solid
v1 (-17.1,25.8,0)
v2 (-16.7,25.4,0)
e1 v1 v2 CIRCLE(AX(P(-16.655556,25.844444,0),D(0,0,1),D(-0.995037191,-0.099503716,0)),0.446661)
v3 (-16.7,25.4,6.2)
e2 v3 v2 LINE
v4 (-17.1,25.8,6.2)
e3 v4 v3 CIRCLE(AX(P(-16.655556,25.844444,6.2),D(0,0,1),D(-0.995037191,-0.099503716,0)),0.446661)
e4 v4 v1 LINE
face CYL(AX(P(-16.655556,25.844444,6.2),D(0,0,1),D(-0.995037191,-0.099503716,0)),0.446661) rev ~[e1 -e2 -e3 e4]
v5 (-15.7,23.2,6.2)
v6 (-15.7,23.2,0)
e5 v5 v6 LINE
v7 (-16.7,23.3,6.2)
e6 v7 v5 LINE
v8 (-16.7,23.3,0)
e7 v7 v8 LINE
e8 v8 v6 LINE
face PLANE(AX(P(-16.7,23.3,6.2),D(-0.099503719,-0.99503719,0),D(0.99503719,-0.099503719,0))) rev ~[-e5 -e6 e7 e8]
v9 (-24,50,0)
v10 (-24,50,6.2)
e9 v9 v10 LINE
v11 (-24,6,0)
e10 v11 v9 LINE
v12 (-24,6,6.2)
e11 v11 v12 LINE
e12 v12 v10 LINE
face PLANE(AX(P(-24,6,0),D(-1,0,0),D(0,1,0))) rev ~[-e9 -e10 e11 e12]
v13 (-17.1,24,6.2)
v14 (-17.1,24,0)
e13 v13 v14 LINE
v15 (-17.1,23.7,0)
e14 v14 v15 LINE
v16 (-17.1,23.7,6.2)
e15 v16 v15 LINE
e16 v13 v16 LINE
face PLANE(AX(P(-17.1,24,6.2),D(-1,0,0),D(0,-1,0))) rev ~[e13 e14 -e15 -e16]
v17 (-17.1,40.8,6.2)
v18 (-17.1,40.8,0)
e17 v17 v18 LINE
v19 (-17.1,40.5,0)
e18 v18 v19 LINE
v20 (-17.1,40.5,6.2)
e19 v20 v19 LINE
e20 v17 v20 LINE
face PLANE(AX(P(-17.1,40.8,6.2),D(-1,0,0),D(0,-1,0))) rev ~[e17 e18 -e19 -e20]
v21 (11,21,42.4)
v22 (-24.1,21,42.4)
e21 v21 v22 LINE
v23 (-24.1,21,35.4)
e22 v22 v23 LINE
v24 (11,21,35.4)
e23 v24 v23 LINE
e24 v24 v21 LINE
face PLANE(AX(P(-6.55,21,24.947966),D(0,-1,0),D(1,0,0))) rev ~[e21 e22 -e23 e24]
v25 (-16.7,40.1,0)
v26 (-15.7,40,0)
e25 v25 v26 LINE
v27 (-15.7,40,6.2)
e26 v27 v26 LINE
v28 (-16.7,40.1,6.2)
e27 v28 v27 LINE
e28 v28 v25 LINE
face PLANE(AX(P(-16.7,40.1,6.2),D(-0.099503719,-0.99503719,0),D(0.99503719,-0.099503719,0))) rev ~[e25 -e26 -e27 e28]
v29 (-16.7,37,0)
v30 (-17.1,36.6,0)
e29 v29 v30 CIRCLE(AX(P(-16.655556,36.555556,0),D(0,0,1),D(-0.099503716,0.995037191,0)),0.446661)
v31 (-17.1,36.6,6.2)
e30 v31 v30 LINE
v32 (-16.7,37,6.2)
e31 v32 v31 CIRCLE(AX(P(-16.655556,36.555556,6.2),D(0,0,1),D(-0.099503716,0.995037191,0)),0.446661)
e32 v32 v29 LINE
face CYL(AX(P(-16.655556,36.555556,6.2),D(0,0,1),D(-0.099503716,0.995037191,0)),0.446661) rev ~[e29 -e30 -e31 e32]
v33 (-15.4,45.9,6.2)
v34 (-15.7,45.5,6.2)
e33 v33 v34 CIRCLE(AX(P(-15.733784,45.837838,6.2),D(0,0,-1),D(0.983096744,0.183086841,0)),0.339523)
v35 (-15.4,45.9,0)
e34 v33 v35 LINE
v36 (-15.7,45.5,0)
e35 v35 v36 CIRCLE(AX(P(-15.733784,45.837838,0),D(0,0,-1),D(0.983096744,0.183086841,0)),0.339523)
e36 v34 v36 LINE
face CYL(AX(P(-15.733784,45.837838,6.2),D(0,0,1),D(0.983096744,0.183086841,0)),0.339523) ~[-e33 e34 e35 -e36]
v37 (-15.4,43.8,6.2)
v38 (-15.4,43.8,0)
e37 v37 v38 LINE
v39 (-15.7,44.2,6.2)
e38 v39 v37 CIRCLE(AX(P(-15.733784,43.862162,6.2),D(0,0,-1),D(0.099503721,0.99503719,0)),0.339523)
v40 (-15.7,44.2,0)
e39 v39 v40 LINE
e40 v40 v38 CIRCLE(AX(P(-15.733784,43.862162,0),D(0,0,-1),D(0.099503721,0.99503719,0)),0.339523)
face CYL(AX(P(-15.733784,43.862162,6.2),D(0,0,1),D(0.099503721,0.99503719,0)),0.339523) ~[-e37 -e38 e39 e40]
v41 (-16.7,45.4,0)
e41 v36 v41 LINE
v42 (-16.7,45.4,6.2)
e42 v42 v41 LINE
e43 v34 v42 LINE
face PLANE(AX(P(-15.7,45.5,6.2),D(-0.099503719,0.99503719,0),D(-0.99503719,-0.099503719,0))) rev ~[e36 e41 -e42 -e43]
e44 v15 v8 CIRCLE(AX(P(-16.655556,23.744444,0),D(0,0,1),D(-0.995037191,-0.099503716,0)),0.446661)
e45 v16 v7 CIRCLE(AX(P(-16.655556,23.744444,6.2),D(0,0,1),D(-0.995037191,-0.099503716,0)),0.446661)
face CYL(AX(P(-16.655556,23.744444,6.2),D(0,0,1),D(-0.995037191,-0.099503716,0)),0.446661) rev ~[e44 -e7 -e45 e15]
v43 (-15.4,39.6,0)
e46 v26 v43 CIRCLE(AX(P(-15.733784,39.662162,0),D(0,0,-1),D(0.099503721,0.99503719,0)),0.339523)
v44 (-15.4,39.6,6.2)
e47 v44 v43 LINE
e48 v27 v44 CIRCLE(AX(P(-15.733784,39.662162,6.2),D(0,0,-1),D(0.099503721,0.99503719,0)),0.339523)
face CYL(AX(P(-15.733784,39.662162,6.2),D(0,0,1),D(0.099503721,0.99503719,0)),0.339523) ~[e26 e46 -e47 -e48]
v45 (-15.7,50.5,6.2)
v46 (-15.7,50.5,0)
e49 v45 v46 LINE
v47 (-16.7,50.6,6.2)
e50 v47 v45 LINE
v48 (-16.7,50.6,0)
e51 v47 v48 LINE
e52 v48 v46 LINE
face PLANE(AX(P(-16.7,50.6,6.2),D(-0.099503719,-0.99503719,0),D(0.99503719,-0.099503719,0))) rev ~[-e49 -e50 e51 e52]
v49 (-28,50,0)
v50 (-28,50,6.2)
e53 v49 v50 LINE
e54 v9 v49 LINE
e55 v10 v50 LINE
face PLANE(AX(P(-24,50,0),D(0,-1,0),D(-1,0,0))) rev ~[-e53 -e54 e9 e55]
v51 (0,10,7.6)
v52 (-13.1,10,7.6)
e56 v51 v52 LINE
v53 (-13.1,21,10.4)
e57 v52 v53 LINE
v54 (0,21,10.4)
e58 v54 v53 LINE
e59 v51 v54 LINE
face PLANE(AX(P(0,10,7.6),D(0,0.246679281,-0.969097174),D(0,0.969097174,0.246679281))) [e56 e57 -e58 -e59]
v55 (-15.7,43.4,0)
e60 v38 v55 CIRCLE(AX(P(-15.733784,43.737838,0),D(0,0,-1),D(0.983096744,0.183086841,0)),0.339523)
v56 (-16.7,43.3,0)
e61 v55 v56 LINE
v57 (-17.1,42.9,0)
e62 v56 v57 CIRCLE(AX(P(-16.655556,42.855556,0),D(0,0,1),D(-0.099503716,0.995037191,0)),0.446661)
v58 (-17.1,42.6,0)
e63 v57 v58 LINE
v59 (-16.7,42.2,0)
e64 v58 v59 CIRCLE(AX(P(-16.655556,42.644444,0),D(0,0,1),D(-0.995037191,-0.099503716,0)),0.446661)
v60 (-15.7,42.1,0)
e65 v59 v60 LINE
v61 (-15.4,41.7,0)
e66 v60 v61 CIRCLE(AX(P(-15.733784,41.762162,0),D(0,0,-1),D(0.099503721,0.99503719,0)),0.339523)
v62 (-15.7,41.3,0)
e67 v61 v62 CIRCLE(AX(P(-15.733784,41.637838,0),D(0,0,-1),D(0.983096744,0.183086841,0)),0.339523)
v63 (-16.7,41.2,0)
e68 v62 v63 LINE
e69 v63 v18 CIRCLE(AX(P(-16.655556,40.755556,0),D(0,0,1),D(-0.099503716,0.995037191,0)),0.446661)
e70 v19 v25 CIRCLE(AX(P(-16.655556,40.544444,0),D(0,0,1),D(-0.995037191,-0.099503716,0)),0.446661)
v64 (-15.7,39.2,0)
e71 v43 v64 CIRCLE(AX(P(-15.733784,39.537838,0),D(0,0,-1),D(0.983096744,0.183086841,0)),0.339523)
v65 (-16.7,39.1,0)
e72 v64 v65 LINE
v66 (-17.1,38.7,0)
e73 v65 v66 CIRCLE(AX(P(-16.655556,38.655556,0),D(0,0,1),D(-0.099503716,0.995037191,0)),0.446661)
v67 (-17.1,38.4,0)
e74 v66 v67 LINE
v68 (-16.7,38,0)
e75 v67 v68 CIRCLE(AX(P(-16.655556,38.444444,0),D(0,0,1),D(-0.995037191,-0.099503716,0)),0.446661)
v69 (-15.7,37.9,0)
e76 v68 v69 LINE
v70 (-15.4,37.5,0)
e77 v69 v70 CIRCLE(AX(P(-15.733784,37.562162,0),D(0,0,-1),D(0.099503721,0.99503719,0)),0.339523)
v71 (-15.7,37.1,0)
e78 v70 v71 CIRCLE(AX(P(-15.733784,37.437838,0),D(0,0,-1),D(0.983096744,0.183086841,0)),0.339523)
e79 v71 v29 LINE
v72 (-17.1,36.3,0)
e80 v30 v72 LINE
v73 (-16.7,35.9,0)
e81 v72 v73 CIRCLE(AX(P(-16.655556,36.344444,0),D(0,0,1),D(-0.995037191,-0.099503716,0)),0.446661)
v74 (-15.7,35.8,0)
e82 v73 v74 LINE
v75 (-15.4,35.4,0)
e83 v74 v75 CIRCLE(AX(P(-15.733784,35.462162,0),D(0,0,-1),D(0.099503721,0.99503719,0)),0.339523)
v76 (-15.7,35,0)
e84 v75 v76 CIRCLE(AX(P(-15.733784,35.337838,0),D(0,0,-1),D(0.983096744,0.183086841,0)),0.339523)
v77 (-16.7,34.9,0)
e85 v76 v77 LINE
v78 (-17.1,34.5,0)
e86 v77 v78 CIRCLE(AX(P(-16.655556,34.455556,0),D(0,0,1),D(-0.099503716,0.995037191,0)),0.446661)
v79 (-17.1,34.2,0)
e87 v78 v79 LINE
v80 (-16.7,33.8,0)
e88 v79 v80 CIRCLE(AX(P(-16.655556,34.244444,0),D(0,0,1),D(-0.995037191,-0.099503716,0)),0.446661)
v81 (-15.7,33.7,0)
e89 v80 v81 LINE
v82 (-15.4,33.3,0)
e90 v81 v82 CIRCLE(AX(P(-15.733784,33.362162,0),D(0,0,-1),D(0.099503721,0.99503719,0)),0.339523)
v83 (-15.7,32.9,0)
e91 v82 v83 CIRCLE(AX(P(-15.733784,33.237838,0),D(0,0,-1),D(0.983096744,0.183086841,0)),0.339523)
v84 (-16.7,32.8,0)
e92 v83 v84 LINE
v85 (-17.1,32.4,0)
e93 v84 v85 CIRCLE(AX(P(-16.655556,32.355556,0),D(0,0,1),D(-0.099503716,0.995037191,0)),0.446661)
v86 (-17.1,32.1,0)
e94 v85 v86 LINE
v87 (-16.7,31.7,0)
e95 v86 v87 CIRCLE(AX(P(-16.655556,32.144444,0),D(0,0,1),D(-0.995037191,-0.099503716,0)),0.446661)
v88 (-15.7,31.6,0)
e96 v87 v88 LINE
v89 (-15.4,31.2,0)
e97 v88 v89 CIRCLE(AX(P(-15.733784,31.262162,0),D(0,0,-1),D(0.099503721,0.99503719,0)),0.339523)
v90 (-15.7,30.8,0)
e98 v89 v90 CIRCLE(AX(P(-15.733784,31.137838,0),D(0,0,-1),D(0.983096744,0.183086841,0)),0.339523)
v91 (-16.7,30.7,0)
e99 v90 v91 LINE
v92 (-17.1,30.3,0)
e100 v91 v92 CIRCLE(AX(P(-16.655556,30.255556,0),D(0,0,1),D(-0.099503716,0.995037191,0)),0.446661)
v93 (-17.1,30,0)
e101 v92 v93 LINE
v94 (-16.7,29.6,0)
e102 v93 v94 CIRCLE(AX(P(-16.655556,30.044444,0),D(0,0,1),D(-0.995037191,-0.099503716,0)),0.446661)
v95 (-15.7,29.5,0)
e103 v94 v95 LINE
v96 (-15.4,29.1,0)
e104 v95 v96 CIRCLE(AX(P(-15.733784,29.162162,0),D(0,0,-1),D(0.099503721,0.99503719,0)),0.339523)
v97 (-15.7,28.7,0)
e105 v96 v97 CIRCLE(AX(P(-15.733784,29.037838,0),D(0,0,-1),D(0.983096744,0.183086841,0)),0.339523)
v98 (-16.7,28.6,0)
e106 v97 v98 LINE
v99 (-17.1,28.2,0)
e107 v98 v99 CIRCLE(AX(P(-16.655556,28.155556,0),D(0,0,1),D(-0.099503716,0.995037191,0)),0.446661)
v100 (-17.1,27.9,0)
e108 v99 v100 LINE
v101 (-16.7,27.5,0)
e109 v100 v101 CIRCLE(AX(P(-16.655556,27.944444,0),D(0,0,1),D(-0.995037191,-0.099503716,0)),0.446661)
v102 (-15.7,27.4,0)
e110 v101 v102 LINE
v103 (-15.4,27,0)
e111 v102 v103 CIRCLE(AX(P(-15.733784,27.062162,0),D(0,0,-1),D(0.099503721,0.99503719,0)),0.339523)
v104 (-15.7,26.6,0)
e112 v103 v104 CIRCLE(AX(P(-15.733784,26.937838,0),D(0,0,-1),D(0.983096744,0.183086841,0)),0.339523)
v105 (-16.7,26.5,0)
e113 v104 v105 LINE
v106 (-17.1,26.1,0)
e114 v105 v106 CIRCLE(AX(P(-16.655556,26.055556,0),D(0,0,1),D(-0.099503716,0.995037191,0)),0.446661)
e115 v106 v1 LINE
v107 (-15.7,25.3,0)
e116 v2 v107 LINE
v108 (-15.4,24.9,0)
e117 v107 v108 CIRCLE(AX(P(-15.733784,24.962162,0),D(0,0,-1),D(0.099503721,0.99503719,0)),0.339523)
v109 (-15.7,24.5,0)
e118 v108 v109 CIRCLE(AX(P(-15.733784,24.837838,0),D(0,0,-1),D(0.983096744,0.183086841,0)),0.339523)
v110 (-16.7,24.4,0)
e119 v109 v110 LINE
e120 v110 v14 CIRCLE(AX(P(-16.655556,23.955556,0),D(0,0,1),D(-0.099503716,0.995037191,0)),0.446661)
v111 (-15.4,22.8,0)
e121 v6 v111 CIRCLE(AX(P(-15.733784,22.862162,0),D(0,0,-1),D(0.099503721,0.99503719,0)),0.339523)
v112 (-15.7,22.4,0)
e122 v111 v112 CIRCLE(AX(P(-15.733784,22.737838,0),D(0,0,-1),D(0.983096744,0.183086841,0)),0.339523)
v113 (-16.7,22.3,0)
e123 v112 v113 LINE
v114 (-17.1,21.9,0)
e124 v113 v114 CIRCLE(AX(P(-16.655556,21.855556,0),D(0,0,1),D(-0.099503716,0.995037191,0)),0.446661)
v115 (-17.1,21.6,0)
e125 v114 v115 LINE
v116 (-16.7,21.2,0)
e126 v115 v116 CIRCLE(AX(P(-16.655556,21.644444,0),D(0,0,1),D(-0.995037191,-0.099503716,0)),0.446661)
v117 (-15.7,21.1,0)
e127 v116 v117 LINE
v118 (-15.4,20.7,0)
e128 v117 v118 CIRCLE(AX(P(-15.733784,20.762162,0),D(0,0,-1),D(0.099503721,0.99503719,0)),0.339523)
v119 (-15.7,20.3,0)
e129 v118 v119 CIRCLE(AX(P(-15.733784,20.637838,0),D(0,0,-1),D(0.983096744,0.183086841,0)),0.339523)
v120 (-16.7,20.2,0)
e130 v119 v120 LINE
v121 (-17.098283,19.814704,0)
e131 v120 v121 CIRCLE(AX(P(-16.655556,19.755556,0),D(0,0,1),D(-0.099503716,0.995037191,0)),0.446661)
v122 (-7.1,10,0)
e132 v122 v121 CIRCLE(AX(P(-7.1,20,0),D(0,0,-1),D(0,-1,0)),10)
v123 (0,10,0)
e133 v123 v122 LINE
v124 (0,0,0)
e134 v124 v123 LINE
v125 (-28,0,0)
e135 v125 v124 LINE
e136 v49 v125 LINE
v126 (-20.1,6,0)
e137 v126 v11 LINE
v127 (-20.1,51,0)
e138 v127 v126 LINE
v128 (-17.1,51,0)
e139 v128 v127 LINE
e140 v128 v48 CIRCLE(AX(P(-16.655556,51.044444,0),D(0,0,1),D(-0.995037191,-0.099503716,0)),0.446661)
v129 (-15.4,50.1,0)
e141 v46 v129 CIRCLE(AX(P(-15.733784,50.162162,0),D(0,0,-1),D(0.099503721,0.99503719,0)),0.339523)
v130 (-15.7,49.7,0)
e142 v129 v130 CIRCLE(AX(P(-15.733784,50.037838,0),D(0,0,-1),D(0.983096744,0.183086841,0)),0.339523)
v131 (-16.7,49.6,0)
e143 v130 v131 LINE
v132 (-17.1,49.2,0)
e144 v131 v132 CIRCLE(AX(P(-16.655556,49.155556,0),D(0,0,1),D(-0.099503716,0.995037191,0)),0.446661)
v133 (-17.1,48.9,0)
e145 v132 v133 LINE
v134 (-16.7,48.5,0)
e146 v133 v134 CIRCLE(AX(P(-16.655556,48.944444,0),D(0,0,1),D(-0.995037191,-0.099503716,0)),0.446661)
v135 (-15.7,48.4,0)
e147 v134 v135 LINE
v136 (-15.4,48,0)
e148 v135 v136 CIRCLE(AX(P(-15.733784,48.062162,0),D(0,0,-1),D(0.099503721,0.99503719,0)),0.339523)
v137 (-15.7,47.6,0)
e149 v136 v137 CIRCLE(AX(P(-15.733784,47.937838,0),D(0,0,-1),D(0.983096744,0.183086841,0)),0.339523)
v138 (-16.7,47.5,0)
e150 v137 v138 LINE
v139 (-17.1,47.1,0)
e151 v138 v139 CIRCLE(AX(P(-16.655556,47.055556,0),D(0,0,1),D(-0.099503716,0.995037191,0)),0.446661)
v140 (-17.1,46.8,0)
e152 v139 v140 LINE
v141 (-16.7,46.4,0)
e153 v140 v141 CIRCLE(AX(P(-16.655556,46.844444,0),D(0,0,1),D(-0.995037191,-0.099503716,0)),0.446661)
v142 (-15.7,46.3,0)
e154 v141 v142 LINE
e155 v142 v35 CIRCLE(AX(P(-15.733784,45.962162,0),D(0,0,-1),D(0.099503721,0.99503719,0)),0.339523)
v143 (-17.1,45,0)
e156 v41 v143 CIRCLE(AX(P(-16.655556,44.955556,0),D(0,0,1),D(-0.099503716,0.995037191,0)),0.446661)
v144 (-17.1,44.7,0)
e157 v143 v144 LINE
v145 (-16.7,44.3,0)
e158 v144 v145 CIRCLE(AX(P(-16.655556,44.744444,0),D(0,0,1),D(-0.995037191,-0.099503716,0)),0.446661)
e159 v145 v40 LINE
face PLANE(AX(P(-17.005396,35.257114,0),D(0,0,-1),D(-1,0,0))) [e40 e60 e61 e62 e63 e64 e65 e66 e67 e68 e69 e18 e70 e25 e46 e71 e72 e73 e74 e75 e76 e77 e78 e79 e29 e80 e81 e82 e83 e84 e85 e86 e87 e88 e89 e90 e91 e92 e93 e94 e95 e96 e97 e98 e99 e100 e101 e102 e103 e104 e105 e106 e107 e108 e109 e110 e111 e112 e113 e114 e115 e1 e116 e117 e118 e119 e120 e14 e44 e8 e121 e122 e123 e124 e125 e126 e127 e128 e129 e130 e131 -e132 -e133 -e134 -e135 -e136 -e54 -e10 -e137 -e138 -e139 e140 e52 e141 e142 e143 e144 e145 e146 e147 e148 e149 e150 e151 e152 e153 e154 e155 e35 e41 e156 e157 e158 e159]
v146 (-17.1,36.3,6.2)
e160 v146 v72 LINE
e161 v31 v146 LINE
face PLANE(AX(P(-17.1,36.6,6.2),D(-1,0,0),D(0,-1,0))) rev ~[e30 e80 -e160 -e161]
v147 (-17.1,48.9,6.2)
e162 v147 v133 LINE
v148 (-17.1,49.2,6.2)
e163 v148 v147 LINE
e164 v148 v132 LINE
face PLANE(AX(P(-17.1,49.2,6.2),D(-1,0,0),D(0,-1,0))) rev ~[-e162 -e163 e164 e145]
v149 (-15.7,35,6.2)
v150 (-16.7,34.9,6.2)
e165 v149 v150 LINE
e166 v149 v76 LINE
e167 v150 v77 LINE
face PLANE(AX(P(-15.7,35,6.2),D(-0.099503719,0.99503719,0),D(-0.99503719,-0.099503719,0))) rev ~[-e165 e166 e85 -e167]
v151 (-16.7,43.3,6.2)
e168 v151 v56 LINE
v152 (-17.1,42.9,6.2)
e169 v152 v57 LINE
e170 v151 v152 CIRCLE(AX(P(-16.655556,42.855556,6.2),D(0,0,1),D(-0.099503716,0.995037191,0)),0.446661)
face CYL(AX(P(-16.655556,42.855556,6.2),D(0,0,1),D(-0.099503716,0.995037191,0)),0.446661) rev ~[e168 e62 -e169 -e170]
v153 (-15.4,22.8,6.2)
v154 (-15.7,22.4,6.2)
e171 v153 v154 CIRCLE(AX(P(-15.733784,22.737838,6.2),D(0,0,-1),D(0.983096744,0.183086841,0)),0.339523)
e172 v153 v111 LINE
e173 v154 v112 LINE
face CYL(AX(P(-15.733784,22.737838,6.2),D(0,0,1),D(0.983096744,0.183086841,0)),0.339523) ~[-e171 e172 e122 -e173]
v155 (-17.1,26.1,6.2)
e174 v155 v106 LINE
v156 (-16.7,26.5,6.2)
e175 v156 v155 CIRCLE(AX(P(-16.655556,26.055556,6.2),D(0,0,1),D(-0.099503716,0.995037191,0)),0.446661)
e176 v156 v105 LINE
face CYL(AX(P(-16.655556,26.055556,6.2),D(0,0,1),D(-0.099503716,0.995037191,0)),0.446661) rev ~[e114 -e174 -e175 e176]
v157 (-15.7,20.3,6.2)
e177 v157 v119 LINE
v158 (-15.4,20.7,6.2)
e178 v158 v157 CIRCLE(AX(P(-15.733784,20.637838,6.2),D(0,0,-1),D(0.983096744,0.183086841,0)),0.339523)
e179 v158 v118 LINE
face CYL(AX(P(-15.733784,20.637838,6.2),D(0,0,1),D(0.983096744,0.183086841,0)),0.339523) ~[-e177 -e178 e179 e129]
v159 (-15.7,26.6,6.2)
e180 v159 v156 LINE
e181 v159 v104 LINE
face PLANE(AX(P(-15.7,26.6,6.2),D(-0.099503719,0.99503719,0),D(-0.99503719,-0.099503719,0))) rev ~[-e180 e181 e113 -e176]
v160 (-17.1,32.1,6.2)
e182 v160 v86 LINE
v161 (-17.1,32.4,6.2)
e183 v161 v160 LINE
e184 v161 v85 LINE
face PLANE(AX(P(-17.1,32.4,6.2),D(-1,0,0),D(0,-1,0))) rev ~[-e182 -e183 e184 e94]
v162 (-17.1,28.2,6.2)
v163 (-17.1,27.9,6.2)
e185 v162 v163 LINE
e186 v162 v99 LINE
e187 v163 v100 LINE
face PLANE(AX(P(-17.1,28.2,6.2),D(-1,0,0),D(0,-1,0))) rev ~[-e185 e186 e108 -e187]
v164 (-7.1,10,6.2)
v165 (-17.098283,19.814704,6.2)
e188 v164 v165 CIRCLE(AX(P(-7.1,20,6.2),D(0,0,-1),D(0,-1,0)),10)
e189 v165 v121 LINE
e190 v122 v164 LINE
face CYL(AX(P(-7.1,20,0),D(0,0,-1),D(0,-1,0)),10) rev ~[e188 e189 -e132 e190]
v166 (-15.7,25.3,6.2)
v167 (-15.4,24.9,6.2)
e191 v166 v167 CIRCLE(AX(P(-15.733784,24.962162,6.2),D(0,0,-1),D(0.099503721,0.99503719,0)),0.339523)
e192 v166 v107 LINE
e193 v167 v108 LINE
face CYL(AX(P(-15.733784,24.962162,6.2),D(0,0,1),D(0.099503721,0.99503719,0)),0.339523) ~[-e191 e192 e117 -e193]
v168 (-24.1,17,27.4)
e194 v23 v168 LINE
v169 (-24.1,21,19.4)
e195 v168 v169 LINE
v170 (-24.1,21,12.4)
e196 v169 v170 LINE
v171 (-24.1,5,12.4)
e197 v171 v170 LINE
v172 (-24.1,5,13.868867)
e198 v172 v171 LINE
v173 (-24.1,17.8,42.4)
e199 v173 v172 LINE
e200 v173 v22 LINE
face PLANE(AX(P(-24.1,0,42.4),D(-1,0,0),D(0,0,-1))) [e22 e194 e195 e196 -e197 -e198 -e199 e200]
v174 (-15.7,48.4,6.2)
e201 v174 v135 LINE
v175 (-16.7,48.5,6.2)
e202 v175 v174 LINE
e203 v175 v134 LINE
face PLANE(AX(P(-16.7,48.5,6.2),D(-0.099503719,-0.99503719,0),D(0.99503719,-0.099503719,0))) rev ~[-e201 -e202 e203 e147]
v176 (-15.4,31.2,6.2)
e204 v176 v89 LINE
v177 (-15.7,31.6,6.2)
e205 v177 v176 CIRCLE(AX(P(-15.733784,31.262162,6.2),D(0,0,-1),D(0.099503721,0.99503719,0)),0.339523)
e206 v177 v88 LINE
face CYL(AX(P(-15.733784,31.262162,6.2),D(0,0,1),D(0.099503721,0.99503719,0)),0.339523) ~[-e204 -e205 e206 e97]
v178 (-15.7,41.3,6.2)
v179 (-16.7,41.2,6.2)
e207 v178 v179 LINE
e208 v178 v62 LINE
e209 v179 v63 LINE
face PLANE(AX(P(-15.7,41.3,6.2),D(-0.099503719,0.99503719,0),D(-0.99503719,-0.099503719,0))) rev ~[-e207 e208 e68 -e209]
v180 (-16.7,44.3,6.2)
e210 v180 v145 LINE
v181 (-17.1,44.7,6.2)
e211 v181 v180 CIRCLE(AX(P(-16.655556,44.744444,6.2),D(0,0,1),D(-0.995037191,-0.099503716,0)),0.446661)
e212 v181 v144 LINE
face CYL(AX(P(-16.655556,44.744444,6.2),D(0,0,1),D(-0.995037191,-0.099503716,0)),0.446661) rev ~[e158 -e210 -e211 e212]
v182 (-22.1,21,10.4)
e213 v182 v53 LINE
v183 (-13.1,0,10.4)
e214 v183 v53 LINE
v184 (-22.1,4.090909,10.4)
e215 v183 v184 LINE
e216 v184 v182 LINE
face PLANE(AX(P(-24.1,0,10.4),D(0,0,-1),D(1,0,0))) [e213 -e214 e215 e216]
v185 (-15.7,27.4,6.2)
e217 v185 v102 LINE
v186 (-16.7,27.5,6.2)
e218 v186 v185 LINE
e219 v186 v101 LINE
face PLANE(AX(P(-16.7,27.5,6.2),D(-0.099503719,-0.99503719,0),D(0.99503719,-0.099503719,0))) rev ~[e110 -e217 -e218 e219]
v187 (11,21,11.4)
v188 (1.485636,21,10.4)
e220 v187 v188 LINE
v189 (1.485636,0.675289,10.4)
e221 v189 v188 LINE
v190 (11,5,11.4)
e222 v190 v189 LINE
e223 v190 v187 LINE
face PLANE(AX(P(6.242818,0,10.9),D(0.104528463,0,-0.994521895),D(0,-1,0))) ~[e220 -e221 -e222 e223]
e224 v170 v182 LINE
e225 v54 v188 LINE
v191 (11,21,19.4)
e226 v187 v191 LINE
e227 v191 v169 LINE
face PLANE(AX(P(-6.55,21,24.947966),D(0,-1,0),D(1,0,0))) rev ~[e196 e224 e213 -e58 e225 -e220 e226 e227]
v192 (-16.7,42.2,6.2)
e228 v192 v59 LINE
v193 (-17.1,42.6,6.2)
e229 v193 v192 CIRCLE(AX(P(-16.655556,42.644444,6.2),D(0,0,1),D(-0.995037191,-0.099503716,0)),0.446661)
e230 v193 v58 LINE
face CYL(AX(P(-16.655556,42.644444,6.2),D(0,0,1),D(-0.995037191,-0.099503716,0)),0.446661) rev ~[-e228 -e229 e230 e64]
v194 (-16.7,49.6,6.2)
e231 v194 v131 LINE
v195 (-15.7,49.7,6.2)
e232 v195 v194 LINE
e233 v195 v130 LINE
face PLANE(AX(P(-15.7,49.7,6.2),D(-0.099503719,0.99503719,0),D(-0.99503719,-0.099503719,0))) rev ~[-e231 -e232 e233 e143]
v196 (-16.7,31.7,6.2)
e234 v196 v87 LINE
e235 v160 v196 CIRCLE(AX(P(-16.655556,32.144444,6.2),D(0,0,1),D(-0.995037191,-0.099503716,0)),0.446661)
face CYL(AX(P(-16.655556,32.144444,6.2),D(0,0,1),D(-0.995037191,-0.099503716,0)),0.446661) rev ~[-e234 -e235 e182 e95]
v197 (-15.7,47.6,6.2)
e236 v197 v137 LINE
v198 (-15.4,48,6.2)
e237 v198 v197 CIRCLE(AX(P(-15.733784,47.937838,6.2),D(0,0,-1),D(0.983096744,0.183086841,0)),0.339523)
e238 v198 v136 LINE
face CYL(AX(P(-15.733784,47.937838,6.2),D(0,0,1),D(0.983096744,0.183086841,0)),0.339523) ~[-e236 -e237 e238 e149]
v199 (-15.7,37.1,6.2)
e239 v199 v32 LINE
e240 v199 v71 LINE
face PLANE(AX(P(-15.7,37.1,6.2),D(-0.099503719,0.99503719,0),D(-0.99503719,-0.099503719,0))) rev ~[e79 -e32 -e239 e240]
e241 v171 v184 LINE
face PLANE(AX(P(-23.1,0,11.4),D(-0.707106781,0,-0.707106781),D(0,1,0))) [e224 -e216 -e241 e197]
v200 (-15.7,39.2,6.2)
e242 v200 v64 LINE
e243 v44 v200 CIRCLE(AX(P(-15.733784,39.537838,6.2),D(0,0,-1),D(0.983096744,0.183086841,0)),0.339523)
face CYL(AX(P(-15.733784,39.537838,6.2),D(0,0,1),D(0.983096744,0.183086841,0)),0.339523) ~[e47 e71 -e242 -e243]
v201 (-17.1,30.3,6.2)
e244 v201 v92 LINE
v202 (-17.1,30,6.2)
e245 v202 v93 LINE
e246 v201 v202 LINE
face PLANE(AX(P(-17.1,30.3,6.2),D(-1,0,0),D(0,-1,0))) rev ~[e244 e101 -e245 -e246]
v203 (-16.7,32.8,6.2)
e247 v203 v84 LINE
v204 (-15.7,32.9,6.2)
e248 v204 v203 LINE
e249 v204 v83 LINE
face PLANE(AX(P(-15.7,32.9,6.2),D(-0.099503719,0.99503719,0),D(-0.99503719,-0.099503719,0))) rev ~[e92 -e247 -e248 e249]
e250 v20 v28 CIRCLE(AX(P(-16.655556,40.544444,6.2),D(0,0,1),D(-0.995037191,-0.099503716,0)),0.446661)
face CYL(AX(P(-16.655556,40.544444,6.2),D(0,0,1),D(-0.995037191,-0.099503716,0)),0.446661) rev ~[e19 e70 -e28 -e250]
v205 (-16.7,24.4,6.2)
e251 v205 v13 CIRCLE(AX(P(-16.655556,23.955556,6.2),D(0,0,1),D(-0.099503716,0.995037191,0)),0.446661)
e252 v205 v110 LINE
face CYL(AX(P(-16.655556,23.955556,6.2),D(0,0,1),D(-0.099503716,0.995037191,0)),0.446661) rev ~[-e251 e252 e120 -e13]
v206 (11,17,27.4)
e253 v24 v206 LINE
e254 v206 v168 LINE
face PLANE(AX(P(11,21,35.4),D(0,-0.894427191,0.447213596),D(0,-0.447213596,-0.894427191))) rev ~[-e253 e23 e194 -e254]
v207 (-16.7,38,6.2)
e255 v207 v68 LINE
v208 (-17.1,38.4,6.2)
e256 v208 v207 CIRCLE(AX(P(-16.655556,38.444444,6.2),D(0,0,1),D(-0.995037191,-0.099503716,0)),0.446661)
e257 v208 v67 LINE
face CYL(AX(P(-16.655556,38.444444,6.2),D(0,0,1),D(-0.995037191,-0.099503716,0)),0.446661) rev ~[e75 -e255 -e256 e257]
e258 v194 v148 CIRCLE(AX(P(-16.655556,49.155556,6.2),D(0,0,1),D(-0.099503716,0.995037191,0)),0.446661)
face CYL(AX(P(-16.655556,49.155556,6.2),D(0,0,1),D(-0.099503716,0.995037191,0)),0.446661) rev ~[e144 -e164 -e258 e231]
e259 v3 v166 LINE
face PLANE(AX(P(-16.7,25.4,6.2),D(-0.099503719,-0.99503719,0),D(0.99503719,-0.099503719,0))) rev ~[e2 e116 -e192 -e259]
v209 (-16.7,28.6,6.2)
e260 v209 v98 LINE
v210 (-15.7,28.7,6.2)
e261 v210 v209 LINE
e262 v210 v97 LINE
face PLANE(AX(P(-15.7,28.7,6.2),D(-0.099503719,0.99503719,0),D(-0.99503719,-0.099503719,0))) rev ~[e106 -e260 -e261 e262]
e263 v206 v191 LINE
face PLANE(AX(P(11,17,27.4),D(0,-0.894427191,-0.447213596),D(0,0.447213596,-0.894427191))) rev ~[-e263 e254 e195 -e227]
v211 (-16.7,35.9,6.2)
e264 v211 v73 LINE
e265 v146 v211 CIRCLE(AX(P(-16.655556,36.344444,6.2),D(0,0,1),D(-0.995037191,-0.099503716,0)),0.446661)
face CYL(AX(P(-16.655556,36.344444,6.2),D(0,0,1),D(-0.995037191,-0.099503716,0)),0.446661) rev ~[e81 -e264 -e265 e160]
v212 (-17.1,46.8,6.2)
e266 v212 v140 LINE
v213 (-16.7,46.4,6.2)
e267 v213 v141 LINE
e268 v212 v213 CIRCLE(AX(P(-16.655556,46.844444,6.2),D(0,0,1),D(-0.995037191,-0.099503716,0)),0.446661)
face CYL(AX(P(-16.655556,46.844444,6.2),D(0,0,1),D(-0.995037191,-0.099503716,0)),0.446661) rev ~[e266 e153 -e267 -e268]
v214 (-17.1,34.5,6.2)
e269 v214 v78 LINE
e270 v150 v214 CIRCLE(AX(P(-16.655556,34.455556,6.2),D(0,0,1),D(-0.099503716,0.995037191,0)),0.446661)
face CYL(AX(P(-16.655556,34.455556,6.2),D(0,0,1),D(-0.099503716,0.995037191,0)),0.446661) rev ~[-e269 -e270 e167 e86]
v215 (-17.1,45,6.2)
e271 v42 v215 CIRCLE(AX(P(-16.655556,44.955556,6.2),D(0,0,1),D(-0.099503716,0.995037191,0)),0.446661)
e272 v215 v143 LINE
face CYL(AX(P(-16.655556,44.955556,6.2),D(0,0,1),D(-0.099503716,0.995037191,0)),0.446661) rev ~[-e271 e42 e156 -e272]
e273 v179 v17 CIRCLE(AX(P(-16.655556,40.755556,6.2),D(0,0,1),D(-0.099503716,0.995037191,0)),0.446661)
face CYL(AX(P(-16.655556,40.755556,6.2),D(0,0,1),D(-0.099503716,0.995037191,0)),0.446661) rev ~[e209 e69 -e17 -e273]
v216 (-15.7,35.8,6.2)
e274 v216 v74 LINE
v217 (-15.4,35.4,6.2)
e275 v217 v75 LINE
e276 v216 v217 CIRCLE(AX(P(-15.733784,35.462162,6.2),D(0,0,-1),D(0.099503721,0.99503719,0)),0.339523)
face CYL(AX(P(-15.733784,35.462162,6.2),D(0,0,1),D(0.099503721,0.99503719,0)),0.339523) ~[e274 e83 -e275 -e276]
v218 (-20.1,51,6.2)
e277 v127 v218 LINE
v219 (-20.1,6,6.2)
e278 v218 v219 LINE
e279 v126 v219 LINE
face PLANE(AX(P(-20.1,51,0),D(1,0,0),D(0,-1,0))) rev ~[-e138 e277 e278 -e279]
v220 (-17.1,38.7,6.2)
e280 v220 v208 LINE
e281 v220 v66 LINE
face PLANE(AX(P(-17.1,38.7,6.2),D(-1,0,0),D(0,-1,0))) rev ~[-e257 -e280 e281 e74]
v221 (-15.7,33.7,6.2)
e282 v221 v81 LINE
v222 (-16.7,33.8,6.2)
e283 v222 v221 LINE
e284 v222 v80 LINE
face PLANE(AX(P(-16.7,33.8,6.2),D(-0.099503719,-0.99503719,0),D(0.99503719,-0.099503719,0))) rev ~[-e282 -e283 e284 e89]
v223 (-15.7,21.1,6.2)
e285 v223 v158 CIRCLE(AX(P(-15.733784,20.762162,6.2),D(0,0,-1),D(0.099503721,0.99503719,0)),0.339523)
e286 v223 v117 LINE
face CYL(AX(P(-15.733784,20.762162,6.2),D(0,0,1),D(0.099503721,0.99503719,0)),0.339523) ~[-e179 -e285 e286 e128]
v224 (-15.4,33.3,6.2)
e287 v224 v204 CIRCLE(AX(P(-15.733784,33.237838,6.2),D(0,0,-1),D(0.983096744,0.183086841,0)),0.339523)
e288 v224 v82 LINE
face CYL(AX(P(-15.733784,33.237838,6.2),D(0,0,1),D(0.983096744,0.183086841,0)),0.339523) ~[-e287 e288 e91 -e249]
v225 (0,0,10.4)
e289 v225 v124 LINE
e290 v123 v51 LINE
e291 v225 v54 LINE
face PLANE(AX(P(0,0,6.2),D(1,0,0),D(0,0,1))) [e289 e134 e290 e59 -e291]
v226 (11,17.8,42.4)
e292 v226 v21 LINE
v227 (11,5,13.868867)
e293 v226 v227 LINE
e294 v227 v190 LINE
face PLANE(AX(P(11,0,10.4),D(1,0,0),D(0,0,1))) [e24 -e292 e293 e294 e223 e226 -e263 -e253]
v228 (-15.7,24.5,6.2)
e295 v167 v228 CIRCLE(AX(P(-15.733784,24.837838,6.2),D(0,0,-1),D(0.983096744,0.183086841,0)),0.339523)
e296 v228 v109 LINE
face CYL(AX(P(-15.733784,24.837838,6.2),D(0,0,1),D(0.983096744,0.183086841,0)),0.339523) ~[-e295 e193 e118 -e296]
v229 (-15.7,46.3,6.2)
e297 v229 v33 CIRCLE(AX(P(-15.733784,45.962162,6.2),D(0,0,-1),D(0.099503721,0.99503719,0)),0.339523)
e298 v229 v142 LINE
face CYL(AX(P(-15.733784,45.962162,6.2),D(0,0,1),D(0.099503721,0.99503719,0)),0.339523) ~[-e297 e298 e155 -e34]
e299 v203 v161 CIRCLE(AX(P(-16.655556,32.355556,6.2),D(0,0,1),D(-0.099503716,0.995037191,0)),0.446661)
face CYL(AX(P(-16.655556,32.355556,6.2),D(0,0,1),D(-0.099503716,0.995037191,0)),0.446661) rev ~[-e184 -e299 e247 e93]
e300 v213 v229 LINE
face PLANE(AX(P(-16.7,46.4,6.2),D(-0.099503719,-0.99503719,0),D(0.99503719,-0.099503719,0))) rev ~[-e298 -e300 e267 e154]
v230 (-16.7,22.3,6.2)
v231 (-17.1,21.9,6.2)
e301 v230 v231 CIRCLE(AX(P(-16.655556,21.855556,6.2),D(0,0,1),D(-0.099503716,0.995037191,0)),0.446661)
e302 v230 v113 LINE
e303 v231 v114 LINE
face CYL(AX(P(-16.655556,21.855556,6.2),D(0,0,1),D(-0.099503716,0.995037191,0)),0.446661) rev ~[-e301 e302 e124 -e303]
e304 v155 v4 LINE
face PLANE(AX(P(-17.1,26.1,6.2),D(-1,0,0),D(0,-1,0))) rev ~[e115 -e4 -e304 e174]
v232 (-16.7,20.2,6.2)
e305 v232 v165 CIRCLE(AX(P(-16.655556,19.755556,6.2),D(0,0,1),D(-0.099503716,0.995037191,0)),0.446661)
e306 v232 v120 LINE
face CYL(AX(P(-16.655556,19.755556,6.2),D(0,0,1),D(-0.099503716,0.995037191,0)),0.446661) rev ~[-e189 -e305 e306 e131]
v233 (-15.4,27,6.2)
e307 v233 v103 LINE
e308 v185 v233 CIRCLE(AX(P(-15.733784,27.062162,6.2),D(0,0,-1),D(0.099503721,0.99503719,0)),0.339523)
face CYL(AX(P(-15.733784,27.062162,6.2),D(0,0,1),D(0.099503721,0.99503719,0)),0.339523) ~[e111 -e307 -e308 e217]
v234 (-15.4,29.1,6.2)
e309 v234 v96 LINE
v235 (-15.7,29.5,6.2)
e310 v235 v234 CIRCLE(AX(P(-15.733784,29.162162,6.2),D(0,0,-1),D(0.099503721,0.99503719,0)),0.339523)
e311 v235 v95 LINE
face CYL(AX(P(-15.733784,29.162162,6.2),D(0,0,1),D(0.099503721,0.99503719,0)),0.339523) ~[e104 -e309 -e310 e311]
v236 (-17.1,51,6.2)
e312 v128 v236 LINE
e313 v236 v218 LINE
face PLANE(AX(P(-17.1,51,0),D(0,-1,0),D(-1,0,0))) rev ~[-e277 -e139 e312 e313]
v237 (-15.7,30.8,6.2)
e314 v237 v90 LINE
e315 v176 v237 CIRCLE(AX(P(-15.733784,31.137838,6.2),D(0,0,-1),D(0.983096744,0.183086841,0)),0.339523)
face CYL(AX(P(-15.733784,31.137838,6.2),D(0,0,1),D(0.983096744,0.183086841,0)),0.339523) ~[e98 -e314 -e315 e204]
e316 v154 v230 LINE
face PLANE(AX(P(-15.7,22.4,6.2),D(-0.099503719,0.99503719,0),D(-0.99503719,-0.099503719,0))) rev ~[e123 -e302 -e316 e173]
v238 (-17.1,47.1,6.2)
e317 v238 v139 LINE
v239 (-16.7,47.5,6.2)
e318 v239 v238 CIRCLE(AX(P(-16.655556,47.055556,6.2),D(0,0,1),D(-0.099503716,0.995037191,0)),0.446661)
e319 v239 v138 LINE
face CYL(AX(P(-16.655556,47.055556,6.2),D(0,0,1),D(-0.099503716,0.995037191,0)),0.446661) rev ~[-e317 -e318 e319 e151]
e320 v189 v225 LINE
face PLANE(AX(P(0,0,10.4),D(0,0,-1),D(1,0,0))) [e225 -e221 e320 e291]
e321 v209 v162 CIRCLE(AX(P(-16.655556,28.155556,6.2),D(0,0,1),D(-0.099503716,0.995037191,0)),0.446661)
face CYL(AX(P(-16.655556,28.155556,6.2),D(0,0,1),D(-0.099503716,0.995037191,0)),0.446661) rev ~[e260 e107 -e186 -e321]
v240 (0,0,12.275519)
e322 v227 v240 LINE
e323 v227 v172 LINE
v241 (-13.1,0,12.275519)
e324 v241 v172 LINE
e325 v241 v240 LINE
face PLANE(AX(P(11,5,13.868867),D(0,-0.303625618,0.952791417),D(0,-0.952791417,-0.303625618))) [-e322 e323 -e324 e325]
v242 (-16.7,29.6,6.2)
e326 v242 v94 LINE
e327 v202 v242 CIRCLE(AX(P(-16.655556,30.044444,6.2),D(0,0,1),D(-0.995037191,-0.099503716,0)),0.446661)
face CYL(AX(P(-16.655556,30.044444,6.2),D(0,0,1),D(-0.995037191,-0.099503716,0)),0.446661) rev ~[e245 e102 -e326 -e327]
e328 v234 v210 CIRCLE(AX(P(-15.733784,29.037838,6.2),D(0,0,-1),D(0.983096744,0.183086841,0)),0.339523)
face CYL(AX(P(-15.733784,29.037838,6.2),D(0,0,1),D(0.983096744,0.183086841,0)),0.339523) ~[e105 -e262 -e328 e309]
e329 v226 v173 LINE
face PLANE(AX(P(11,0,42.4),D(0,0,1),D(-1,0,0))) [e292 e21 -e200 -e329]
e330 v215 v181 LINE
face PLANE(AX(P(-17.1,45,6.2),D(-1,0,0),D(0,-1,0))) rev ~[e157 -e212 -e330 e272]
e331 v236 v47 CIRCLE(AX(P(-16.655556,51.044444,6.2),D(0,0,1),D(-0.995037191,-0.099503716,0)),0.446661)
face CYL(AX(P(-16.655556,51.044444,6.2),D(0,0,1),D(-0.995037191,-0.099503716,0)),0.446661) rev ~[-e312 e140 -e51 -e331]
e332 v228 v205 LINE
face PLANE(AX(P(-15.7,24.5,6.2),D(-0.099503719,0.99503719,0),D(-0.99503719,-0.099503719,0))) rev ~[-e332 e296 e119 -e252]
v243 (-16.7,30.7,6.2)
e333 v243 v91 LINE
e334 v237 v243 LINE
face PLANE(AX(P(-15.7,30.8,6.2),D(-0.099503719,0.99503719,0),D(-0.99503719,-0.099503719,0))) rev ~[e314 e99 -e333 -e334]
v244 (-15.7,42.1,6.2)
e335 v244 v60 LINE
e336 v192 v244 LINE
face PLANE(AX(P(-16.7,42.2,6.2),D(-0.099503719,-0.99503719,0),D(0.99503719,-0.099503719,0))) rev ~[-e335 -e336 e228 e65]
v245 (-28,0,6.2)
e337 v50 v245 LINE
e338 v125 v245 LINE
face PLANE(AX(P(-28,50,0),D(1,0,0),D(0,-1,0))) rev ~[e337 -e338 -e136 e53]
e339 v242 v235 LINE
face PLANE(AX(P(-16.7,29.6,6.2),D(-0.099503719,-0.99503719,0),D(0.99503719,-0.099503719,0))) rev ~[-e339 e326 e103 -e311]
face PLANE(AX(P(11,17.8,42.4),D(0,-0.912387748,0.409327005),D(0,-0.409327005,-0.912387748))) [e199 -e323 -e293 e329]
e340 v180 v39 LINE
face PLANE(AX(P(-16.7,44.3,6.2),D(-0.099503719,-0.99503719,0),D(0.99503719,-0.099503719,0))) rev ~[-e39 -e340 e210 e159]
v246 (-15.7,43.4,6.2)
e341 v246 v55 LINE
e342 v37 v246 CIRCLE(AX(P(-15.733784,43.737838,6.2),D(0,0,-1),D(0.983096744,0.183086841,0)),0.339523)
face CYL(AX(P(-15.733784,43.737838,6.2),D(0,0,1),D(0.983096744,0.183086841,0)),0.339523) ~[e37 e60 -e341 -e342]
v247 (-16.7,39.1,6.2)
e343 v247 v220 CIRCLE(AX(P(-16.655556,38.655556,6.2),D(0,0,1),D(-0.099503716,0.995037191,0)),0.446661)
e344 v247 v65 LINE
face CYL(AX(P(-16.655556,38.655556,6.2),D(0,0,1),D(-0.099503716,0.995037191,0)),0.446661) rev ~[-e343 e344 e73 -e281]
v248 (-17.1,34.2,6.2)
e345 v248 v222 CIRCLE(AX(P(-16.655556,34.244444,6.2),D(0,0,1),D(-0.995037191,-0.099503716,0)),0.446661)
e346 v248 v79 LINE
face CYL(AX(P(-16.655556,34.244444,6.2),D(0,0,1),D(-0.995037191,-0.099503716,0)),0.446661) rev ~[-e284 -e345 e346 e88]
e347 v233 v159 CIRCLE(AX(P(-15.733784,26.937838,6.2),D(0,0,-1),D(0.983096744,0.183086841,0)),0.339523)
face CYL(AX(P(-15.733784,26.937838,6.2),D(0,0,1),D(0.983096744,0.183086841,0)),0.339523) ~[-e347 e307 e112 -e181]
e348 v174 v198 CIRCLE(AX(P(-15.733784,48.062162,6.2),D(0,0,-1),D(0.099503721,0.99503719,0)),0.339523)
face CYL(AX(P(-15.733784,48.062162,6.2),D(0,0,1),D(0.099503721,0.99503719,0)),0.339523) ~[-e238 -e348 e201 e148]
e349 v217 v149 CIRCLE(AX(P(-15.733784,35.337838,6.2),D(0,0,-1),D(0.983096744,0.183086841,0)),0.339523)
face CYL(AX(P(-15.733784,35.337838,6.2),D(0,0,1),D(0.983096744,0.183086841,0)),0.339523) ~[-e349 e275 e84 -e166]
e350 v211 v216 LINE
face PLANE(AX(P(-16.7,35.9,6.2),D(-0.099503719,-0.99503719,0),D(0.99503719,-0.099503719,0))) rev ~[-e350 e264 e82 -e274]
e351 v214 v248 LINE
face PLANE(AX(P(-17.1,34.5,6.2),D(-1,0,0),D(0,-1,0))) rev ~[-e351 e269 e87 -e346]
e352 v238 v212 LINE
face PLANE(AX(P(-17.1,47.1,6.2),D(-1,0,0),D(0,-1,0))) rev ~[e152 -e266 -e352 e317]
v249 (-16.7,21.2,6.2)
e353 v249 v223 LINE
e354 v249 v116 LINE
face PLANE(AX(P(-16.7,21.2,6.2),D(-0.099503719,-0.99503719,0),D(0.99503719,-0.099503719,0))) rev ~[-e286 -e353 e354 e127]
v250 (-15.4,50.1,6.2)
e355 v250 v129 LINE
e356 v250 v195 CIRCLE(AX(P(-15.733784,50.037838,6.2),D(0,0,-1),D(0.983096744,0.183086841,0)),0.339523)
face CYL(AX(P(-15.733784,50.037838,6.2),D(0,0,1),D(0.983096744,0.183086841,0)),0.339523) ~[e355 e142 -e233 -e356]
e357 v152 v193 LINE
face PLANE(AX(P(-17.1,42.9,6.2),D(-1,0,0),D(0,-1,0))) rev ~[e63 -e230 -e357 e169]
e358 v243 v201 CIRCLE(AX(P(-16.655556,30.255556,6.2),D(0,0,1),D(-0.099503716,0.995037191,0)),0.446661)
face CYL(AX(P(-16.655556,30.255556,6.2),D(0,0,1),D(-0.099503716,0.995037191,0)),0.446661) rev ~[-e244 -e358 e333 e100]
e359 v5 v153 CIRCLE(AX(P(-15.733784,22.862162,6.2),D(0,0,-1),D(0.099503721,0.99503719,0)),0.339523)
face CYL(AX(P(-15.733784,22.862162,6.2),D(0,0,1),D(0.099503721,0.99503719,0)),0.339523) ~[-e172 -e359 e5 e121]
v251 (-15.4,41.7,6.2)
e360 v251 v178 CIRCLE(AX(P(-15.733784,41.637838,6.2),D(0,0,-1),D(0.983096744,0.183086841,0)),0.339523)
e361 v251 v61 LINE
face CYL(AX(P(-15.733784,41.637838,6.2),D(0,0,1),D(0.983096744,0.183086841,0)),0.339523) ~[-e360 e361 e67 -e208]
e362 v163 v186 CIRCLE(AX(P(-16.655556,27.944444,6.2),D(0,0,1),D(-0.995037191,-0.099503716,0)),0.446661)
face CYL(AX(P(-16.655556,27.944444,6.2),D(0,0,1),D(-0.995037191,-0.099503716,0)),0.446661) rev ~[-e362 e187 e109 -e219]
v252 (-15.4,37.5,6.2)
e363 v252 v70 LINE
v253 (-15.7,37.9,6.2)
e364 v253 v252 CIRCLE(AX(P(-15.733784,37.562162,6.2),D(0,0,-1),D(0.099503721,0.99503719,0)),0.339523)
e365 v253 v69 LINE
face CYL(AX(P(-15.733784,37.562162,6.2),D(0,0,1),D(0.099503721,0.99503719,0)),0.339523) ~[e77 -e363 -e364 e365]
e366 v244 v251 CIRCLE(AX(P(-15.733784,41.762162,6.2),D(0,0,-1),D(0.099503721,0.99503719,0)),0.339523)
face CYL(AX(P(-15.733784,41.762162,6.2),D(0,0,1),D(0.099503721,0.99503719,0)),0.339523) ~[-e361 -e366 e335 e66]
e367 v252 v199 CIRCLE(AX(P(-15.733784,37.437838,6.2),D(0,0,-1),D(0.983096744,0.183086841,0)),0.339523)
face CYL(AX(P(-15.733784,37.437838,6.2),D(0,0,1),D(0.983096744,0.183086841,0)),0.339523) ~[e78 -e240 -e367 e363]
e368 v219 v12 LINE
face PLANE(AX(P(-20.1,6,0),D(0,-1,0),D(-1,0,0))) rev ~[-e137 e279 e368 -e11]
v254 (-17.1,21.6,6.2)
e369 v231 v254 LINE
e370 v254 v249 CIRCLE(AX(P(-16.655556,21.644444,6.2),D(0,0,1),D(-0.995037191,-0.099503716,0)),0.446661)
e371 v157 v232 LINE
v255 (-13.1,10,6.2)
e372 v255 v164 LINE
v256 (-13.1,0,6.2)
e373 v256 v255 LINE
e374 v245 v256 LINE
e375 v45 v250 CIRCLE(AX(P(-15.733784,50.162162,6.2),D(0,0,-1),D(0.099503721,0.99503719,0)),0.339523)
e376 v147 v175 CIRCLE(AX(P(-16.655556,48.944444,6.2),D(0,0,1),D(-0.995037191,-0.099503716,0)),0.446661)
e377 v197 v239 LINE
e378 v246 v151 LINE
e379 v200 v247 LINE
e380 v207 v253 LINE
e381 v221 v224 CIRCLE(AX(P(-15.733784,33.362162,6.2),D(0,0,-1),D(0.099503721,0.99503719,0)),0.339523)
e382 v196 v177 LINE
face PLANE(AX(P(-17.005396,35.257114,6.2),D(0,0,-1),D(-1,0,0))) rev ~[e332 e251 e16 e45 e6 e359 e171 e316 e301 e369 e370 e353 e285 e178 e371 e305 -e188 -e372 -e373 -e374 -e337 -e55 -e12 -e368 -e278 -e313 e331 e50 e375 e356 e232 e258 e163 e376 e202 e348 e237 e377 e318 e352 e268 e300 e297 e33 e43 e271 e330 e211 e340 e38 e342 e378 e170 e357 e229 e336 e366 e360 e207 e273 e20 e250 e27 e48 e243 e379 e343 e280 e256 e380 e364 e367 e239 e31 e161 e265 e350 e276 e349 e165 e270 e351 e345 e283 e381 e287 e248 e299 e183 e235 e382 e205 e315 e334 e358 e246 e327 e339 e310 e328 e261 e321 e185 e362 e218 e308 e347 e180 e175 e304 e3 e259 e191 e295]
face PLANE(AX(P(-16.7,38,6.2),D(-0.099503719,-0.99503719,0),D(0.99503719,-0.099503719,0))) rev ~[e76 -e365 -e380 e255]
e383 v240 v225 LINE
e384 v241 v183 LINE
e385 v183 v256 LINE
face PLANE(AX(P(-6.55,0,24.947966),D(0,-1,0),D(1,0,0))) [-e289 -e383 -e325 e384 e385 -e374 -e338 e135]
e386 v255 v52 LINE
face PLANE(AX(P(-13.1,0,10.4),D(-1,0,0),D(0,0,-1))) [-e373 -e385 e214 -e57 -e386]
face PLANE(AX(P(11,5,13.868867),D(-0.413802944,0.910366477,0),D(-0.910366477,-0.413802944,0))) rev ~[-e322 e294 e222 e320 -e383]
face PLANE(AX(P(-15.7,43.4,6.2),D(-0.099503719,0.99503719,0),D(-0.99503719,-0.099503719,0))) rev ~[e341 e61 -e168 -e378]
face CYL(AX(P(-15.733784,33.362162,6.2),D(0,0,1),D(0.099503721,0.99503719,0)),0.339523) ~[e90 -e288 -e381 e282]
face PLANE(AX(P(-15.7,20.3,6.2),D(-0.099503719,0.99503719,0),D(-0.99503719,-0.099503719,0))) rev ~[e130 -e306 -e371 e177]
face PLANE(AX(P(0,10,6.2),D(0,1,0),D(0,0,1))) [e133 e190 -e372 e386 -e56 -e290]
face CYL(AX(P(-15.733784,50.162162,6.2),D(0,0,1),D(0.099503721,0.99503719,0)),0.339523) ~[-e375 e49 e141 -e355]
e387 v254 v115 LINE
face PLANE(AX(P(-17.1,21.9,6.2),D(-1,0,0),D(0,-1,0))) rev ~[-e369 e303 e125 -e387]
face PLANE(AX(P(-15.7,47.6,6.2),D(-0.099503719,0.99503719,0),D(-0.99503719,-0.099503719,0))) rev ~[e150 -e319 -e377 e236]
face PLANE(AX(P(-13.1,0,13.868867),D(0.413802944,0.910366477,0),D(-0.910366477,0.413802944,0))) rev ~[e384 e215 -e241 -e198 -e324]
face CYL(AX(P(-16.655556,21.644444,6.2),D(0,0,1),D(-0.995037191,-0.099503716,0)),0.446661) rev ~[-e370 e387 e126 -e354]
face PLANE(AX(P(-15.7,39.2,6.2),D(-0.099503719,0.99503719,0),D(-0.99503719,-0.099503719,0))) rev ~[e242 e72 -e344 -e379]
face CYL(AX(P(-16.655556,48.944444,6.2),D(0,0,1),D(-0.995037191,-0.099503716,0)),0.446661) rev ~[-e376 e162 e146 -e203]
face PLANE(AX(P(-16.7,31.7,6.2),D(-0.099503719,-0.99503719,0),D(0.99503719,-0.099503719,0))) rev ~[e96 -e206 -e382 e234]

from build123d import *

# Parameters (mm, degrees)
BOSS_EXTRUDE1_DEPTH = 6.2
BOSS_EXTRUDE2_DEPTH = 21
CHAMFER1_SIZE       = 5
CHAMFER1_SIZE2      = 28.356409098
CUT_EXTRUDE1_REACH  = 73.991
CHAMFER2_SIZE       = 1
CHAMFER2_SIZE2      = 9.514364454
CHAMFER3_SIZE       = 2
CUT_EXTRUDE2_REACH  = 78.94
CUT_EXTRUDE3_START  = -3.468867
CUT_EXTRUDE3_DEPTH  = 3.468867
BOSS_EXTRUDE3_DEPTH = 6.2
CUT_EXTRUDE4_REACH  = 78.94


with BuildPart() as part:
    # Sketch1 → Boss-Extrude1 (new body)
    with BuildSketch(Plane.XY):
        with BuildLine():
            Line((-28, 0), (0, 0))
            Line((0, 0), (0, 10))
            Line((0, 10), (-7.1, 10))
            ThreePointArc((-7.1, 10), (-14.171067812, 12.928932188), (-17.1, 20))
            Line((-17.1, 20), (-17.1, 51))
            Line((-17.1, 51), (-20.1, 51))
            Line((-20.1, 51), (-20.1, 6))
            Line((-20.1, 6), (-24, 6))
            Line((-24, 6), (-24, 50))
            Line((-24, 50), (-28, 50))
            Line((-28, 50), (-28, 0))
        make_face()
    extrude(amount=BOSS_EXTRUDE1_DEPTH)

    # Sketch2 → Boss-Extrude2 (add)
    with BuildSketch(Plane.XZ):
        Polygon((0, 6.2), (0, 10.4), (11, 10.4), (11, 42.4), (-24.1, 42.4), (-24.1, 10.4), (-13.1, 10.4), (-13.1, 6.2), align=None)
    extrude(amount=-BOSS_EXTRUDE2_DEPTH)

    # Chamfer1
    chamfer1_edges = [part.edges().sort_by_distance(p)[0] for p in [
        (-6.55, 0, 42.4),
    ]]
    chamfer1_side = [part.faces().sort_by_distance(p)[0] for p in [
        (-6.55, 10.5, 42.4),
    ]]
    chamfer(chamfer1_edges, length=CHAMFER1_SIZE, length2=CHAMFER1_SIZE2, reference=chamfer1_side[0])

    # Sketch3 → Cut-Extrude1 (cut, up to next)
    with BuildSketch(Plane(origin=(0, 0, 0), x_dir=(0, 0, -1), z_dir=(1, 0, 0)), mode=Mode.PRIVATE) as cut_extrude1_sk1:
        Polygon((-6.2, 10), (-7.6, 10), (-10.4, 21), (-6.2, 21), align=None)
    cut_extrude1_tool1 = extrude(cut_extrude1_sk1.sketch, amount=-CUT_EXTRUDE1_REACH, mode=Mode.PRIVATE) & part.part
    add(cut_extrude1_tool1.solids().sort_by_distance((0, 16.416667, 7.716667))[0], mode=Mode.SUBTRACT)

    # Chamfer2
    chamfer2_edges = [part.edges().sort_by_distance(p)[0] for p in [
        (11, 10.5, 10.4),
    ]]
    chamfer2_side = [part.faces().sort_by_distance(p)[0] for p in [
        (11, 11.541747932, 25.62778603),
    ]]
    chamfer(chamfer2_edges, length=CHAMFER2_SIZE, length2=CHAMFER2_SIZE2, reference=chamfer2_side[0])

    # Chamfer3
    chamfer3_edges = [part.edges().sort_by_distance(p)[0] for p in [
        (-24.1, 10.5, 10.4),
    ]]
    chamfer(chamfer3_edges, length=CHAMFER3_SIZE)

    # Sketch5 → Cut-Extrude2 (cut, up to next)
    with BuildSketch(Plane(origin=(11, 0, 0), x_dir=(0, 0, -1), z_dir=(1, 0, 0)), mode=Mode.PRIVATE) as cut_extrude2_sk1:
        Polygon((-42.4, 17.8), (-13.86886709, 5), (-10.966215349, -4.108657177), (-44.036924755, 0.937700744), align=None)
    cut_extrude2_tool1 = extrude(cut_extrude2_sk1.sketch, amount=-CUT_EXTRUDE2_REACH, mode=Mode.PRIVATE) & part.part
    add(cut_extrude2_tool1.solids().sort_by_distance((11, 5.258773, 29.627692))[0], mode=Mode.SUBTRACT)

    # Sketch6 → Cut-Extrude3 (cut)
    with BuildSketch(Plane(origin=(0, 0, 10.4), x_dir=(-1, 0, 0), z_dir=(0, 0, -1)).offset(CUT_EXTRUDE3_START)):
        Polygon((13.1, 0), (24.1, 5), (37.198342989, 5), (28.62602328, -4.522208447), (-13.825974113, -5.629287686), (-20.705007466, 5), (-11, 5), (0, 0), align=None)
    extrude(amount=CUT_EXTRUDE3_DEPTH, mode=Mode.SUBTRACT)

    # Sketch7 → Boss-Extrude3 (add)
    with BuildSketch(Plane.XY.offset(6.2)):
        with BuildLine():
            Line((-16.7, 50.6), (-15.7, 50.5))
            ThreePointArc((-15.7, 50.5), (-15.462165524, 50.365875857), (-15.4, 50.1))
            ThreePointArc((-15.4, 50.1), (-15.462165524, 49.834124143), (-15.7, 49.7))
            Line((-15.7, 49.7), (-16.7, 49.6))
            ThreePointArc((-16.7, 49.6), (-16.971392676, 49.471392676), (-17.1, 49.2))
            Line((-17.1, 49.2), (-17.1, 48.9))
            ThreePointArc((-17.1, 48.9), (-16.971392676, 48.628607324), (-16.7, 48.5))
            Line((-16.7, 48.5), (-15.7, 48.4))
            ThreePointArc((-15.7, 48.4), (-15.462165524, 48.265875857), (-15.4, 48))
            ThreePointArc((-15.4, 48), (-15.462165524, 47.734124143), (-15.7, 47.6))
            Line((-15.7, 47.6), (-16.7, 47.5))
            ThreePointArc((-16.7, 47.5), (-16.971392676, 47.371392676), (-17.1, 47.1))
            Line((-17.1, 47.1), (-17.1, 46.8))
            ThreePointArc((-17.1, 46.8), (-16.971392676, 46.528607324), (-16.7, 46.4))
            Line((-16.7, 46.4), (-15.7, 46.3))
            ThreePointArc((-15.7, 46.3), (-15.462165524, 46.165875857), (-15.4, 45.9))
            ThreePointArc((-15.4, 45.9), (-15.462165524, 45.634124143), (-15.7, 45.5))
            Line((-15.7, 45.5), (-16.7, 45.4))
            ThreePointArc((-16.7, 45.4), (-16.971392676, 45.271392676), (-17.1, 45))
            Line((-17.1, 45), (-17.1, 44.7))
            ThreePointArc((-17.1, 44.7), (-16.971392676, 44.428607324), (-16.7, 44.3))
            Line((-16.7, 44.3), (-15.7, 44.2))
            ThreePointArc((-15.7, 44.2), (-15.462165524, 44.065875857), (-15.4, 43.8))
            ThreePointArc((-15.4, 43.8), (-15.462165524, 43.534124143), (-15.7, 43.4))
            Line((-15.7, 43.4), (-16.7, 43.3))
            ThreePointArc((-16.7, 43.3), (-16.971392676, 43.171392676), (-17.1, 42.9))
            Line((-17.1, 42.9), (-17.1, 42.6))
            ThreePointArc((-17.1, 42.6), (-16.971392676, 42.328607324), (-16.7, 42.2))
            Line((-16.7, 42.2), (-15.7, 42.1))
            ThreePointArc((-15.7, 42.1), (-15.462165524, 41.965875857), (-15.4, 41.7))
            ThreePointArc((-15.4, 41.7), (-15.462165524, 41.434124143), (-15.7, 41.3))
            Line((-15.7, 41.3), (-16.7, 41.2))
            ThreePointArc((-16.7, 41.2), (-16.971392676, 41.071392676), (-17.1, 40.8))
            Line((-17.1, 40.8), (-17.1, 40.5))
            ThreePointArc((-17.1, 40.5), (-16.971392676, 40.228607324), (-16.7, 40.1))
            Line((-16.7, 40.1), (-15.7, 40))
            ThreePointArc((-15.7, 40), (-15.462165524, 39.865875857), (-15.4, 39.6))
            ThreePointArc((-15.4, 39.6), (-15.462165524, 39.334124143), (-15.7, 39.2))
            Line((-15.7, 39.2), (-16.7, 39.1))
            ThreePointArc((-16.7, 39.1), (-16.971392676, 38.971392676), (-17.1, 38.7))
            Line((-17.1, 38.7), (-17.1, 38.4))
            ThreePointArc((-17.1, 38.4), (-16.971392676, 38.128607324), (-16.7, 38))
            Line((-16.7, 38), (-15.7, 37.9))
            ThreePointArc((-15.7, 37.9), (-15.462165524, 37.765875857), (-15.4, 37.5))
            ThreePointArc((-15.4, 37.5), (-15.462165524, 37.234124143), (-15.7, 37.1))
            Line((-15.7, 37.1), (-16.7, 37))
            ThreePointArc((-16.7, 37), (-16.971392676, 36.871392676), (-17.1, 36.6))
            Line((-17.1, 36.6), (-17.1, 36.3))
            ThreePointArc((-17.1, 36.3), (-16.971392676, 36.028607324), (-16.7, 35.9))
            Line((-16.7, 35.9), (-15.7, 35.8))
            ThreePointArc((-15.7, 35.8), (-15.462165524, 35.665875857), (-15.4, 35.4))
            ThreePointArc((-15.4, 35.4), (-15.462165524, 35.134124143), (-15.7, 35))
            Line((-15.7, 35), (-16.7, 34.9))
            ThreePointArc((-16.7, 34.9), (-16.971392676, 34.771392676), (-17.1, 34.5))
            Line((-17.1, 34.5), (-17.1, 34.2))
            ThreePointArc((-17.1, 34.2), (-16.971392676, 33.928607324), (-16.7, 33.8))
            Line((-16.7, 33.8), (-15.7, 33.7))
            ThreePointArc((-15.7, 33.7), (-15.462165524, 33.565875857), (-15.4, 33.3))
            ThreePointArc((-15.4, 33.3), (-15.462165524, 33.034124143), (-15.7, 32.9))
            Line((-15.7, 32.9), (-16.7, 32.8))
            ThreePointArc((-16.7, 32.8), (-16.971392676, 32.671392676), (-17.1, 32.4))
            Line((-17.1, 32.4), (-17.1, 32.1))
            ThreePointArc((-17.1, 32.1), (-16.971392676, 31.828607324), (-16.7, 31.7))
            Line((-16.7, 31.7), (-15.7, 31.6))
            ThreePointArc((-15.7, 31.6), (-15.462165524, 31.465875857), (-15.4, 31.2))
            ThreePointArc((-15.4, 31.2), (-15.462165524, 30.934124143), (-15.7, 30.8))
            Line((-15.7, 30.8), (-16.7, 30.7))
            ThreePointArc((-16.7, 30.7), (-16.971392676, 30.571392676), (-17.1, 30.3))
            Line((-17.1, 30.3), (-17.1, 30))
            ThreePointArc((-17.1, 30), (-16.971392676, 29.728607324), (-16.7, 29.6))
            Line((-16.7, 29.6), (-15.7, 29.5))
            ThreePointArc((-15.7, 29.5), (-15.462165524, 29.365875857), (-15.4, 29.1))
            ThreePointArc((-15.4, 29.1), (-15.462165524, 28.834124143), (-15.7, 28.7))
            Line((-15.7, 28.7), (-16.7, 28.6))
            ThreePointArc((-16.7, 28.6), (-16.971392676, 28.471392676), (-17.1, 28.2))
            Line((-17.1, 28.2), (-17.1, 27.9))
            ThreePointArc((-17.1, 27.9), (-16.971392676, 27.628607324), (-16.7, 27.5))
            Line((-16.7, 27.5), (-15.7, 27.4))
            ThreePointArc((-15.7, 27.4), (-15.462165524, 27.265875857), (-15.4, 27))
            ThreePointArc((-15.4, 27), (-15.462165524, 26.734124143), (-15.7, 26.6))
            Line((-15.7, 26.6), (-16.7, 26.5))
            ThreePointArc((-16.7, 26.5), (-16.971392676, 26.371392676), (-17.1, 26.1))
            Line((-17.1, 26.1), (-17.1, 25.8))
            ThreePointArc((-17.1, 25.8), (-16.971392676, 25.528607324), (-16.7, 25.4))
            Line((-16.7, 25.4), (-15.7, 25.3))
            ThreePointArc((-15.7, 25.3), (-15.462165524, 25.165875857), (-15.4, 24.9))
            ThreePointArc((-15.4, 24.9), (-15.462165524, 24.634124143), (-15.7, 24.5))
            Line((-15.7, 24.5), (-16.7, 24.4))
            ThreePointArc((-16.7, 24.4), (-16.971392676, 24.271392676), (-17.1, 24))
            Line((-17.1, 24), (-17.1, 23.7))
            ThreePointArc((-17.1, 23.7), (-16.971392676, 23.428607324), (-16.7, 23.3))
            Line((-16.7, 23.3), (-15.7, 23.2))
            ThreePointArc((-15.7, 23.2), (-15.462165524, 23.065875857), (-15.4, 22.8))
            ThreePointArc((-15.4, 22.8), (-15.462165524, 22.534124143), (-15.7, 22.4))
            Line((-15.7, 22.4), (-16.7, 22.3))
            ThreePointArc((-16.7, 22.3), (-16.971392676, 22.171392676), (-17.1, 21.9))
            Line((-17.1, 21.9), (-17.1, 21.6))
            ThreePointArc((-17.1, 21.6), (-16.971392676, 21.328607324), (-16.7, 21.2))
            Line((-16.7, 21.2), (-15.7, 21.1))
            ThreePointArc((-15.7, 21.1), (-15.462165524, 20.965875857), (-15.4, 20.7))
            ThreePointArc((-15.4, 20.7), (-15.462165524, 20.434124143), (-15.7, 20.3))
            Line((-15.7, 20.3), (-16.7, 20.2))
            ThreePointArc((-16.7, 20.2), (-16.971392676, 20.071392676), (-17.1, 19.8))
            Line((-17.1, 19.8), (-17.1, 19.5))
            Line((-17.1, 19.5), (-18.637373825, 21.126261745))
            Line((-18.637373825, 21.126261745), (-18.815, 46.4))
            Line((-18.815, 46.4), (-17.1, 51))
            ThreePointArc((-17.1, 51), (-16.971392676, 50.728607324), (-16.7, 50.6))
        make_face()
    extrude(amount=-BOSS_EXTRUDE3_DEPTH)

    # Sketch8 → Cut-Extrude4 (cut, up to next)
    with BuildSketch(Plane(origin=(11, 0, 0), x_dir=(0, 0, -1), z_dir=(1, 0, 0)), mode=Mode.PRIVATE) as cut_extrude4_sk1:
        Polygon((-35.4, 21), (-27.4, 17), (-19.4, 21), align=None)
    cut_extrude4_tool1 = extrude(cut_extrude4_sk1.sketch, amount=-CUT_EXTRUDE4_REACH, mode=Mode.PRIVATE) & part.part
    add(cut_extrude4_tool1.solids().sort_by_distance((11, 19.666667, 27.4))[0], mode=Mode.SUBTRACT)


solid = part.part
